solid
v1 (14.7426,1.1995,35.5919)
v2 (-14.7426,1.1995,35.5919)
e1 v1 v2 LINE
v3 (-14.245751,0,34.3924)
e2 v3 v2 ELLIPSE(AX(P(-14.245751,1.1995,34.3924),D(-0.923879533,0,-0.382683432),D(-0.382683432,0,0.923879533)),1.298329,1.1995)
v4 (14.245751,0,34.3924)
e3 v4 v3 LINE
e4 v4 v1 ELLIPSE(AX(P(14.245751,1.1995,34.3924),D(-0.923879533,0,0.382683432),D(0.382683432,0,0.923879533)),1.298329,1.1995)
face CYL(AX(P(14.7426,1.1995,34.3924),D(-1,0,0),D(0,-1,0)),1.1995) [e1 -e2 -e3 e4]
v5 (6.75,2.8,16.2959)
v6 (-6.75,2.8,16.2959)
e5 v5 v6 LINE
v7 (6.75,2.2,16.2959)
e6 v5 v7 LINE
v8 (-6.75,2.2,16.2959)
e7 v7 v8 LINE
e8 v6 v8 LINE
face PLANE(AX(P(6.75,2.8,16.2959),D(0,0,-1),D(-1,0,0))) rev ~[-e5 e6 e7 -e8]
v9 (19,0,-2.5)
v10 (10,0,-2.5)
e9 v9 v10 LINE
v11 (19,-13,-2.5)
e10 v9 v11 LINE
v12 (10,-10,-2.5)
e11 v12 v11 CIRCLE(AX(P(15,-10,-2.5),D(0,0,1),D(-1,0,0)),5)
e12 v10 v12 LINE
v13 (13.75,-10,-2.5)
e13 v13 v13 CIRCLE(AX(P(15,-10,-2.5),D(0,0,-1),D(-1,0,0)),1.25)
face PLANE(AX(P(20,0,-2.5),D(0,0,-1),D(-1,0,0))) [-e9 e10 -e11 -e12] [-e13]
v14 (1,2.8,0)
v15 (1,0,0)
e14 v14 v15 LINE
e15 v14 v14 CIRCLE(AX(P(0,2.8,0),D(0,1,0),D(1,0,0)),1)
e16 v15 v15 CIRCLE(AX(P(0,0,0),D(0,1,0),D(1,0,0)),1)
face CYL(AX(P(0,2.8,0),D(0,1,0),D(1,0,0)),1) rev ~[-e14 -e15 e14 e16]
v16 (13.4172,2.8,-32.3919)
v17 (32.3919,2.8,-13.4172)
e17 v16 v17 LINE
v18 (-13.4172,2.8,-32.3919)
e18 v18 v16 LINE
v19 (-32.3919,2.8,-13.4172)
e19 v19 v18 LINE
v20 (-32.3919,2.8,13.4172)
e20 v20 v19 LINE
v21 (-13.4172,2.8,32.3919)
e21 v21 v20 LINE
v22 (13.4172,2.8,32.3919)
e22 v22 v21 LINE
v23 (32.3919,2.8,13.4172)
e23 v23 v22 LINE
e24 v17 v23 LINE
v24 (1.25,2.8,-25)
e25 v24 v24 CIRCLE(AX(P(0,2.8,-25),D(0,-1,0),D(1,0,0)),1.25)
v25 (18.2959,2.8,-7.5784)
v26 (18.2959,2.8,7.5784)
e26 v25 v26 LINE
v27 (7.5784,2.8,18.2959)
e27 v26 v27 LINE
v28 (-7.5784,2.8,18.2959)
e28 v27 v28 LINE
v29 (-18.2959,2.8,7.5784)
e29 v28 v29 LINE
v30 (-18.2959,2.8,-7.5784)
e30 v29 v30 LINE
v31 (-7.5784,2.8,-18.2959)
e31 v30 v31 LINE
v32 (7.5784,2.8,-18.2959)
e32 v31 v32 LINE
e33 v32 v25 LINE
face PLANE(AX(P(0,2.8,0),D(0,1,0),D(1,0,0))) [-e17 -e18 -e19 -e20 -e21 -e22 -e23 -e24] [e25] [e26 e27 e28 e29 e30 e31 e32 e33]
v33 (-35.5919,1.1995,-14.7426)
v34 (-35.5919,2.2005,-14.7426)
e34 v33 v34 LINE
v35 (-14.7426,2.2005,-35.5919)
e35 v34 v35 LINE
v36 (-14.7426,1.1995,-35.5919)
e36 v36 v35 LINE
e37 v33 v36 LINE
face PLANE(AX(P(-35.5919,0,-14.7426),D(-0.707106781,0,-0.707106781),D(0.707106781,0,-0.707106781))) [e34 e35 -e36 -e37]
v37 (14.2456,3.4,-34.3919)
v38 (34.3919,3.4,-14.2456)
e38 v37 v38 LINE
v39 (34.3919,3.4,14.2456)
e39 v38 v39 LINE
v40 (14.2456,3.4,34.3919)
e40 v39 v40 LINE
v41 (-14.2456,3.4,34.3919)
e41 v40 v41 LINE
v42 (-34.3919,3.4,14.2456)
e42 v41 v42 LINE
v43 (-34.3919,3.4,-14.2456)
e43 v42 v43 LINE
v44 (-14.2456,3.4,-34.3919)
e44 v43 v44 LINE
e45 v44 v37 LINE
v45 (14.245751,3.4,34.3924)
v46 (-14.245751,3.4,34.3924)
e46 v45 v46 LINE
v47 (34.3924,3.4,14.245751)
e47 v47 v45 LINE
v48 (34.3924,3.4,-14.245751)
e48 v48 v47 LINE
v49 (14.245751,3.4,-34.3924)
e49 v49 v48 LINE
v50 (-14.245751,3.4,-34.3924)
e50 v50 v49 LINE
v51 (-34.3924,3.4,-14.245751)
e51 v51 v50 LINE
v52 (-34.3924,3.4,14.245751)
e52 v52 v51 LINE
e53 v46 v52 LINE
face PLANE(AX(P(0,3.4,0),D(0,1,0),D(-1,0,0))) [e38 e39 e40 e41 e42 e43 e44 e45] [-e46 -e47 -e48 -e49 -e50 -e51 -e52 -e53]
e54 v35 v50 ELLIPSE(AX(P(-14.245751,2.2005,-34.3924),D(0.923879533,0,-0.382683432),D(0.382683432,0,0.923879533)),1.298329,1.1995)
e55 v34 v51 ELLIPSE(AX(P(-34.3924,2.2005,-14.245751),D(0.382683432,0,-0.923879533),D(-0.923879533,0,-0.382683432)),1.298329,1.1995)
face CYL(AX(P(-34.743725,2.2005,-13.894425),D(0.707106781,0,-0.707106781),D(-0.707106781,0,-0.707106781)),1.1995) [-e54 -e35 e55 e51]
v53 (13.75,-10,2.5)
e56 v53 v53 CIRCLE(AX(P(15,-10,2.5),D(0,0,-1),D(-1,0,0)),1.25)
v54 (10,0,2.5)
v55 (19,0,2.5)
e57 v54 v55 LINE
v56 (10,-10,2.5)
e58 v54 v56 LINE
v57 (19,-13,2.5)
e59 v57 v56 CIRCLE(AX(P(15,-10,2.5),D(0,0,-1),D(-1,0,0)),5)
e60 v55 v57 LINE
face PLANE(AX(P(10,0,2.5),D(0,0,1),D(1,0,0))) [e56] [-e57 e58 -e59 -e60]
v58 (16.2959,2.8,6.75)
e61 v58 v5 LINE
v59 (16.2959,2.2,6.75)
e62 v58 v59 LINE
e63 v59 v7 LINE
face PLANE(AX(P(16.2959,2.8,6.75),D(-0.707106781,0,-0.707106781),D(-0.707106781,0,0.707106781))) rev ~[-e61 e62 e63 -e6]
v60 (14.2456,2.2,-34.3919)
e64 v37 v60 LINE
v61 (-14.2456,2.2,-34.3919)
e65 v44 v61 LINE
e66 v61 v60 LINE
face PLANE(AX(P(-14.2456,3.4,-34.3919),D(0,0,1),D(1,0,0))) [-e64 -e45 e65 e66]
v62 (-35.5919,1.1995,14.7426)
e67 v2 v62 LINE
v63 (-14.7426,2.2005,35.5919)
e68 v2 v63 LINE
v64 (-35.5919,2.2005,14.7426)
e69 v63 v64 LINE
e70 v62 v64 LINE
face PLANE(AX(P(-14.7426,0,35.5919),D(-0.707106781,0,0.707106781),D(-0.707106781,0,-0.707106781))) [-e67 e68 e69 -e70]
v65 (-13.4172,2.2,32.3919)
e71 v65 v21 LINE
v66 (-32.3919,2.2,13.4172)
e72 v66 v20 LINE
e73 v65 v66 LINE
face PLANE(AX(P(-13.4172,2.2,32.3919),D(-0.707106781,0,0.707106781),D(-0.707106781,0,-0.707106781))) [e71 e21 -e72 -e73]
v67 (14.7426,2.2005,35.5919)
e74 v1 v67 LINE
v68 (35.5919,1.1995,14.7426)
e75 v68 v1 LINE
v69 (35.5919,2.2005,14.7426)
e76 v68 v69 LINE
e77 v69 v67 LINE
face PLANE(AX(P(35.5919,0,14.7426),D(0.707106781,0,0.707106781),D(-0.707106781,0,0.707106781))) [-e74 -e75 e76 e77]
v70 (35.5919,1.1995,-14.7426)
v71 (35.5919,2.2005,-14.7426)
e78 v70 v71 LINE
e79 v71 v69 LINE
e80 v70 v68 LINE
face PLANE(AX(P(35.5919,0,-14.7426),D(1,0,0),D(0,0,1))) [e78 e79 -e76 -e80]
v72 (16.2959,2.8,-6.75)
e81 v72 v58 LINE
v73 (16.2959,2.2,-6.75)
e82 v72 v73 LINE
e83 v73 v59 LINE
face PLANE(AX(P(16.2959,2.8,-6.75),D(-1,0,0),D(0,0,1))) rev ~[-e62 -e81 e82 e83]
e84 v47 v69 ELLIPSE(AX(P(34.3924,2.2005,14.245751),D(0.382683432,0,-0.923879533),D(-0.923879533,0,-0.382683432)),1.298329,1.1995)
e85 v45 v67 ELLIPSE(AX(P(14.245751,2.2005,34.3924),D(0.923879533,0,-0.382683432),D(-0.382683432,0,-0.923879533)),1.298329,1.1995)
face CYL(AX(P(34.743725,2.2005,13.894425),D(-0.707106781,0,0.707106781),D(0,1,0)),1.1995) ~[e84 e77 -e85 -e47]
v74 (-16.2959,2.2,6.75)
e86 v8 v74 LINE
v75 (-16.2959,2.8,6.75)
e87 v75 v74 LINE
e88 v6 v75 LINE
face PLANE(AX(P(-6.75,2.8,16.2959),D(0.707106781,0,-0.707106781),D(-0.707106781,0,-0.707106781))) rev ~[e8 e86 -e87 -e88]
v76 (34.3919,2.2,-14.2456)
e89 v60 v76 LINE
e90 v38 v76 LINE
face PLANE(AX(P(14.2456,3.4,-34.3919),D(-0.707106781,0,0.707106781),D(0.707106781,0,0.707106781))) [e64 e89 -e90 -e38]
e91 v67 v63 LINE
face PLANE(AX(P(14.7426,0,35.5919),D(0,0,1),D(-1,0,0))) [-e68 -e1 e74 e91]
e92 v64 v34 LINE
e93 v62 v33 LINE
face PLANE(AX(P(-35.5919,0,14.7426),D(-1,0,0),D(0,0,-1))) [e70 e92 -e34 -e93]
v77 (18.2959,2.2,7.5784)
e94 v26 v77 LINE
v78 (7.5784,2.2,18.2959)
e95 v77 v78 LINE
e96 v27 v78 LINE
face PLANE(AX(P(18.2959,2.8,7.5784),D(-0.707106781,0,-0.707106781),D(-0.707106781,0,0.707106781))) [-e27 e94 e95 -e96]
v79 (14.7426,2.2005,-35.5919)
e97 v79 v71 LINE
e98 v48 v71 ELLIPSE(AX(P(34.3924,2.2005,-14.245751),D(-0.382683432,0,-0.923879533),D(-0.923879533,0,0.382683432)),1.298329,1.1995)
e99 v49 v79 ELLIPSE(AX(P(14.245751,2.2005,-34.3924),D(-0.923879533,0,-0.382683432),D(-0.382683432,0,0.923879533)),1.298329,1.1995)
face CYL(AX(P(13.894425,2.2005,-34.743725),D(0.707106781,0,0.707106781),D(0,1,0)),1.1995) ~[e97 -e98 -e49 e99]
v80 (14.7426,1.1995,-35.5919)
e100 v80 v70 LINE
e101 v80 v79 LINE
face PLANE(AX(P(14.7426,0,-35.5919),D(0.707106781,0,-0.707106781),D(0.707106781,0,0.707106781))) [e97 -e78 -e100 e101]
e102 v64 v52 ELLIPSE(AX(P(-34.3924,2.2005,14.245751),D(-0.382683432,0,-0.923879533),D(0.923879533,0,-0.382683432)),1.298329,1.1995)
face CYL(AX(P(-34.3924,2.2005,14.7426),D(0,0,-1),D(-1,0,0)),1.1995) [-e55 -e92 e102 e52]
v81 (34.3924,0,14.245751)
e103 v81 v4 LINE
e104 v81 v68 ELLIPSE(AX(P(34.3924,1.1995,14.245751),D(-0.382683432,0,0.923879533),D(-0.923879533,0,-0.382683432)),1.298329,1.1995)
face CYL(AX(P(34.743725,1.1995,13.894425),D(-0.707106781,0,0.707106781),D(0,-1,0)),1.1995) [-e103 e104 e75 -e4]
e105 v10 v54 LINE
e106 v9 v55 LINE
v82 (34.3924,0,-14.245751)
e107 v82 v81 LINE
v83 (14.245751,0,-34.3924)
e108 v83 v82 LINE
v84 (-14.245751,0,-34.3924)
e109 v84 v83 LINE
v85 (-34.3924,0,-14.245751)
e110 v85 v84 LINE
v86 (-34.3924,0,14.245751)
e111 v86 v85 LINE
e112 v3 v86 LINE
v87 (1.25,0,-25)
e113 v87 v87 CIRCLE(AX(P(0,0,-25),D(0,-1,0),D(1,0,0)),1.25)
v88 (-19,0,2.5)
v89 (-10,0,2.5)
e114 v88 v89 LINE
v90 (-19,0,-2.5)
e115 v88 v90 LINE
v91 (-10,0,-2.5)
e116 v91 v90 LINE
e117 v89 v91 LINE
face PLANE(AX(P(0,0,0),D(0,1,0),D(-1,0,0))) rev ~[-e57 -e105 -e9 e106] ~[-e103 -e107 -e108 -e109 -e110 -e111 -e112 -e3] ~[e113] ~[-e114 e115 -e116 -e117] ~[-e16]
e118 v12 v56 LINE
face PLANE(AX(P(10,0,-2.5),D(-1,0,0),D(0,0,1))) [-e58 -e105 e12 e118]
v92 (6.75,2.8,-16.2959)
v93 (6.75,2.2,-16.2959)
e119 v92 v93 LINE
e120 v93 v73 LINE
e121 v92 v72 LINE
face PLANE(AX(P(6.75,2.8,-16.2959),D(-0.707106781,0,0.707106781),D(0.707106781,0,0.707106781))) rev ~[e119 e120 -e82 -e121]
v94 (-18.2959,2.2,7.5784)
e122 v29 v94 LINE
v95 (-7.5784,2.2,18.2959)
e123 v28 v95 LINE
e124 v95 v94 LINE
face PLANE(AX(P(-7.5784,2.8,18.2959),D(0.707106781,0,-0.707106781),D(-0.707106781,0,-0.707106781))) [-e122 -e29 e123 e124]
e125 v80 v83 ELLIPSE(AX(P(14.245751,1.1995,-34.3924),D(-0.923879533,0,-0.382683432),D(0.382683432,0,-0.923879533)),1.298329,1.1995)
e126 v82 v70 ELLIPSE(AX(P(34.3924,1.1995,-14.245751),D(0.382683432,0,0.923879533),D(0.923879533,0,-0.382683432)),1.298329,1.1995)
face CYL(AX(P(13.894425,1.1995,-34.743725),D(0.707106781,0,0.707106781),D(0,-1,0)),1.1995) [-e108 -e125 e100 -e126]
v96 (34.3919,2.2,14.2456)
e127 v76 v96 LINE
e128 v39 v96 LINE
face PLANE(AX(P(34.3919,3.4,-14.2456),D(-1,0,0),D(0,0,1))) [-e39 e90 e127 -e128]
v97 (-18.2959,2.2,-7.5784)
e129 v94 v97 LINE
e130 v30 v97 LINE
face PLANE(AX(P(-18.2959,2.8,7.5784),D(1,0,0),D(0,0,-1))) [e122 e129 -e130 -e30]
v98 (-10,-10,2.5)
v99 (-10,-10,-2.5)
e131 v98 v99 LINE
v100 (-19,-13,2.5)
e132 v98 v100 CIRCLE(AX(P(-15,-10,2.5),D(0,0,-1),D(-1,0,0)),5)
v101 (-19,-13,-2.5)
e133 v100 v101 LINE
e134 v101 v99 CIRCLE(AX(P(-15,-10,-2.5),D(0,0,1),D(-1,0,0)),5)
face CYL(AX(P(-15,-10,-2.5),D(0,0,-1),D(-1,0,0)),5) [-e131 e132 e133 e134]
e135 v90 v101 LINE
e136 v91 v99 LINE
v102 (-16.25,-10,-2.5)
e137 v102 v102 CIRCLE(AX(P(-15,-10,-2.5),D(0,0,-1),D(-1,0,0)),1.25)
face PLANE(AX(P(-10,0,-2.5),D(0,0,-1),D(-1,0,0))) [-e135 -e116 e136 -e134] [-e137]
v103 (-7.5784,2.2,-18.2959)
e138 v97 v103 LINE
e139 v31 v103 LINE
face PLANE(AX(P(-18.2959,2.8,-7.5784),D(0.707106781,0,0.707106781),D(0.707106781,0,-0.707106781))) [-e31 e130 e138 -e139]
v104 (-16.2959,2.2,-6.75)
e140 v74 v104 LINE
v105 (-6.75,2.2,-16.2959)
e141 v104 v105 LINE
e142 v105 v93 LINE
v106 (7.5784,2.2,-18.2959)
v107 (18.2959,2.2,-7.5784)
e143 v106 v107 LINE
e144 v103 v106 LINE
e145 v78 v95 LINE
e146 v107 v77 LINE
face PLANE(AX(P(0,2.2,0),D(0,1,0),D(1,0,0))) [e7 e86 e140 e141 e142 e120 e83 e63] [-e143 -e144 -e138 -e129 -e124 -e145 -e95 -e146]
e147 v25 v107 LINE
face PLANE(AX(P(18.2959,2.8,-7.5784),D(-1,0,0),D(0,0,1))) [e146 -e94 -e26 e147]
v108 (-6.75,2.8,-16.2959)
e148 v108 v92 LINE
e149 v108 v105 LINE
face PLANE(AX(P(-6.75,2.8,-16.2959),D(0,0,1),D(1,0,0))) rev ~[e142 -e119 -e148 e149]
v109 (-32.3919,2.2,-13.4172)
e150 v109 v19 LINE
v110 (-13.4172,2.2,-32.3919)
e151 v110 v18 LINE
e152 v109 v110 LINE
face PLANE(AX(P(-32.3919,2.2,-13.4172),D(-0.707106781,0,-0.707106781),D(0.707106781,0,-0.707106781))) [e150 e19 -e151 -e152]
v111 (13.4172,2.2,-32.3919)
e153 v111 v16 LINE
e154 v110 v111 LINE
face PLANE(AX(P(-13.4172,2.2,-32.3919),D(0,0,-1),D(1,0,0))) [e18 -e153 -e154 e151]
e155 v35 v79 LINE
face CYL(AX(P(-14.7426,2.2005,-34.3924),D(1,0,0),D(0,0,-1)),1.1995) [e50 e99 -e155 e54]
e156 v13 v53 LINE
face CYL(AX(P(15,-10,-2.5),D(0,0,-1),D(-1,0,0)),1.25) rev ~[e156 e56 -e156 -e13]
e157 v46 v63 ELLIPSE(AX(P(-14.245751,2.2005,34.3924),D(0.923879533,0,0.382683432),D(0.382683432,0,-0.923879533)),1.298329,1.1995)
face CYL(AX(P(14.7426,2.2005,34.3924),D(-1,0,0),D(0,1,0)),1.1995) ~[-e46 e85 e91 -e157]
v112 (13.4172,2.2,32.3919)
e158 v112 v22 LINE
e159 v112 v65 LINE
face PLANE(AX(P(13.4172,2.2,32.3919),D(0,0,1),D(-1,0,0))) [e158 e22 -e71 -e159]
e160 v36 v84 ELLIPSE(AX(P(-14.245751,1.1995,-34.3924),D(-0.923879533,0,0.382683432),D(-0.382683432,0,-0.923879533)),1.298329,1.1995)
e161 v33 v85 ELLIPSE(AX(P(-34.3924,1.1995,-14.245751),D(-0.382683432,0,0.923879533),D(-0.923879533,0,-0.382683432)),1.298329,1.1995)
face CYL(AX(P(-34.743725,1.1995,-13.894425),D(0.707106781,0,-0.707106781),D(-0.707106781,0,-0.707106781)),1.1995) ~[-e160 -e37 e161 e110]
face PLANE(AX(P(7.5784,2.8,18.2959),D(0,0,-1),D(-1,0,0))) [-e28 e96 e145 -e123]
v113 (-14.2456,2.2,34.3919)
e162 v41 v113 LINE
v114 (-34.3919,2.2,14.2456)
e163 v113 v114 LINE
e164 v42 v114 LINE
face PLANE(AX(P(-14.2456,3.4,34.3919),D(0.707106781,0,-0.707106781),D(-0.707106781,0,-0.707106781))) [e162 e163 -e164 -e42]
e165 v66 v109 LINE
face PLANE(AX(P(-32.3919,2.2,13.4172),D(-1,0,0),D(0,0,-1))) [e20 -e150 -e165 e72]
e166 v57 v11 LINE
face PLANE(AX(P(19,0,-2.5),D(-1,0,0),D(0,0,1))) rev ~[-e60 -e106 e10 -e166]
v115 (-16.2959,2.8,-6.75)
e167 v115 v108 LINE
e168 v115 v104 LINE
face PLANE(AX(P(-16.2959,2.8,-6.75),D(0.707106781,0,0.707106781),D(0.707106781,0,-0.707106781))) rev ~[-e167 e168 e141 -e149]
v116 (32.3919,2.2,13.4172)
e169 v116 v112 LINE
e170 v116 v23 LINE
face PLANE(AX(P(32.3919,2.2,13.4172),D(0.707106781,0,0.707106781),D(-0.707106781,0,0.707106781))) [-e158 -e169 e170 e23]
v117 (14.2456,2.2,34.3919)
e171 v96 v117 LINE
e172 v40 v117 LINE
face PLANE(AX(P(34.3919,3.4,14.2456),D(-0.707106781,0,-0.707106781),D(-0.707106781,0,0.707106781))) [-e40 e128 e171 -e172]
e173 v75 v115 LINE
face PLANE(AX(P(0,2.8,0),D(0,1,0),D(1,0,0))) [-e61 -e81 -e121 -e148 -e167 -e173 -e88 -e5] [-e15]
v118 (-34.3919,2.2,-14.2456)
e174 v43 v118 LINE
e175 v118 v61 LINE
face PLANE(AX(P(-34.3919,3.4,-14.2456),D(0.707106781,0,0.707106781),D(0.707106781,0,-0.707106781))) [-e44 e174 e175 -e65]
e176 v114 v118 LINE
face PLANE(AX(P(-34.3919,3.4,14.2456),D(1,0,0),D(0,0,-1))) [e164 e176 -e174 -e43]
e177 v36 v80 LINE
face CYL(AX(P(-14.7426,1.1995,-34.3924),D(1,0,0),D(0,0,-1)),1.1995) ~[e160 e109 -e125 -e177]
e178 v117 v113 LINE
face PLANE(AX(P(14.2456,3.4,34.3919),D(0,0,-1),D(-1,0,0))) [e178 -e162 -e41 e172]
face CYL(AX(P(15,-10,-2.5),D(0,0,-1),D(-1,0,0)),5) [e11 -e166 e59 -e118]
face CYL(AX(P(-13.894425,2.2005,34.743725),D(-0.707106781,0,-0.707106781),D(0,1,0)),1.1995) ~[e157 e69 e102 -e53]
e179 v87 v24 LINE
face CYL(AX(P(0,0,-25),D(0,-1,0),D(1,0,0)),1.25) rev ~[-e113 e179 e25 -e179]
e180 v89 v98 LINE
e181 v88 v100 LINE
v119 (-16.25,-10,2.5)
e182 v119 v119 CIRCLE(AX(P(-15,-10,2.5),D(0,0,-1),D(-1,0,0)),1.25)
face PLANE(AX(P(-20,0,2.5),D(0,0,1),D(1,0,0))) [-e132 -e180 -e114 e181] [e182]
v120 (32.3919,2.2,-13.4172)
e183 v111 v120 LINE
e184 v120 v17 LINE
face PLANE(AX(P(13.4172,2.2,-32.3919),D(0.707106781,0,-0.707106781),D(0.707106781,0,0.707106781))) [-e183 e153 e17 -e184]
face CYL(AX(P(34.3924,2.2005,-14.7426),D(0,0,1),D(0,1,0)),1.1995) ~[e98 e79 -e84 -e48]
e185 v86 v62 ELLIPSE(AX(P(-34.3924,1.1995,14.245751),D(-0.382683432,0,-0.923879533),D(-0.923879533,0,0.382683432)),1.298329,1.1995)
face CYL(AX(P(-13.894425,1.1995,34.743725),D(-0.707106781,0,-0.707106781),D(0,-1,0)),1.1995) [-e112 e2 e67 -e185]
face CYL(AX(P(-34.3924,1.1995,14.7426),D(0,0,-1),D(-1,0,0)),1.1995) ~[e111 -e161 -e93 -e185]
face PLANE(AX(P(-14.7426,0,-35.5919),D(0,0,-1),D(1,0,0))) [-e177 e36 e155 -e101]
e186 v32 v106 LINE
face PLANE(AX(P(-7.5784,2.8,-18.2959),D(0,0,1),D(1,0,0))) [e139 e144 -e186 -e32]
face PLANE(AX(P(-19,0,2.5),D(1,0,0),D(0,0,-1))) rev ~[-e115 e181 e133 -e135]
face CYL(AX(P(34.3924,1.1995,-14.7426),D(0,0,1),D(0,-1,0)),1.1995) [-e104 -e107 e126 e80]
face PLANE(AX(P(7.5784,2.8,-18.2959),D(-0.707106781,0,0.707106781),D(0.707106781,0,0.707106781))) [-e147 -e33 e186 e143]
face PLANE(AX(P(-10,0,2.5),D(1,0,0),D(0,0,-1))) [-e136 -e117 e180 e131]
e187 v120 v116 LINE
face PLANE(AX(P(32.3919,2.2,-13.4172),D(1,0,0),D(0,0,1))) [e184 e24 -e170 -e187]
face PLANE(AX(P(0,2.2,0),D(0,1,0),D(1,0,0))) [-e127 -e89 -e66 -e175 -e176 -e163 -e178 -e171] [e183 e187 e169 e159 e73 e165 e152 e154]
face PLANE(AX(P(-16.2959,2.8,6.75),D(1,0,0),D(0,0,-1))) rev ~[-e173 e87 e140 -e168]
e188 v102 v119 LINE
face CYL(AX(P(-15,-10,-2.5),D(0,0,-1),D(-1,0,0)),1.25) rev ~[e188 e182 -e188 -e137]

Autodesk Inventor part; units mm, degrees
ref_plane "YZ Plane" through (0, 0, 0) normal (1, 0, 0) x (0, 1, 0)
ref_plane "XZ Plane" through (0, 0, 0) normal (0, 1, 0) x (-1, 0, 0)
ref_plane "XY Plane" through (0, 0, 0) normal (0, 0, 1) x (1, 0, 0)
sketch "스케치3" plane through (0, 0, 0) normal (0, 1, 0) x (-1, 0, 0)
  line L0 (35.5919, -14.7426) -> (14.7426, -35.5919)
  line L1 (14.7426, -35.5919) -> (-14.7426, -35.5919)
  line L2 (-14.7426, -35.5919) -> (-35.5919, -14.7426)
  line L3 (-35.5919, -14.7426) -> (-35.5919, 14.7426)
  line L4 (-35.5919, 14.7426) -> (-14.7426, 35.5919)
  line L5 (-14.7426, 35.5919) -> (14.7426, 35.5919)
  line L6 (14.7426, 35.5919) -> (35.5919, 14.7426)
  line L7 (35.5919, 14.7426) -> (35.5919, -14.7426)
  line L8 (32.5919, -13.5) -> (13.5, -32.5919)
  line L9 (13.5, -32.5919) -> (-13.5, -32.5919)
  line L10 (-13.5, -32.5919) -> (-32.5919, -13.5)
  line L11 (-32.5919, -13.5) -> (-32.5919, 13.5)
  line L12 (-32.5919, 13.5) -> (-13.5, 32.5919)
  line L13 (-13.5, 32.5919) -> (13.5, 32.5919)
  line L14 (13.5, 32.5919) -> (32.5919, 13.5)
  line L15 (32.5919, 13.5) -> (32.5919, -13.5)
  point P0 (0, 0)
  point P1 (0, 0)
  point P2 (0, 0)
  point P3 (0, 0)
  dimension "d43" = 27
  dimension "d44" = 3
extrude "돌출2" add sketch "스케치3" along normal blind 3.4 contours L0 L1 L2 L3 L4 L5 L6 L7 | L8 L9 L10 L11 L12 L13 L14 L15
sketch "스케치4" plane through (0, 3.4, 0) normal (0, 1, 0) x (1, 0, 0)
  line L0 (13.5, -32.5919) -> (-13.5, -32.5919)
  line L1 (-13.5, -32.5919) -> (-32.5919, -13.5)
  line L2 (-32.5919, -13.5) -> (-32.5919, 13.5)
  line L3 (-32.5919, 13.5) -> (-13.5, 32.5919)
  line L4 (-13.5, 32.5919) -> (13.5, 32.5919)
  line L5 (13.5, 32.5919) -> (32.5919, 13.5)
  line L6 (32.5919, 13.5) -> (32.5919, -13.5)
  line L7 (32.5919, -13.5) -> (13.5, -32.5919)
  line L8 (-14.2456, 34.3919) -> (14.2456, 34.3919)
  line L9 (14.2456, 34.3919) -> (34.3919, 14.2456)
  line L10 (34.3919, 14.2456) -> (34.3919, -14.2456)
  line L11 (34.3919, -14.2456) -> (14.2456, -34.3919)
  line L12 (14.2456, -34.3919) -> (-14.2456, -34.3919)
  line L13 (-14.2456, -34.3919) -> (-34.3919, -14.2456)
  line L14 (-34.3919, -14.2456) -> (-34.3919, 14.2456)
  line L15 (-34.3919, 14.2456) -> (-14.2456, 34.3919)
  line L16 (-13.4172, 32.3919) -> (13.4172, 32.3919)
  line L17 (13.4172, 32.3919) -> (32.3919, 13.4172)
  line L18 (32.3919, 13.4172) -> (32.3919, -13.4172)
  line L19 (32.3919, -13.4172) -> (13.4172, -32.3919)
  line L20 (13.4172, -32.3919) -> (-13.4172, -32.3919)
  line L21 (-13.4172, -32.3919) -> (-32.3919, -13.4172)
  line L22 (-32.3919, -13.4172) -> (-32.3919, 13.4172)
  line L23 (-32.3919, 13.4172) -> (-13.4172, 32.3919)
  point P0 (0, 0)
  point P1 (0, 0)
  point P2 (0, 0)
  point P3 (0, 0)
  dimension "d7" = 27
  dimension "d42" = 1.8
  dimension "d45" = 0.2
extrude "돌출3" cut sketch "스케치4" against normal blind 1.2 contours L0 L1 L2 L3 L4 L5 L6 L7 | L8 L9 L10 L11 L12 L13 L14 L15 | L16 L17 L18 L19 L20 L21 L22 L23
sketch "스케치5" plane through (0, 0, 0) normal (0, -1, 0) x (1, 0, 0)
  line L0 (10, 2.5) -> (20, 2.5)
  line L1 (20, 2.5) -> (20, -2.5)
  line L2 (20, -2.5) -> (10, -2.5)
  line L3 (10, -2.5) -> (10, 2.5)
  line L4 (10, 2.5) -> (20, -2.5) construction
  line L5 (20, 2.5) -> (10, -2.5) construction
  line L6 (-20, 2.5) -> (-10, 2.5)
  line L7 (-10, 2.5) -> (-10, -2.5)
  line L8 (-10, -2.5) -> (-20, -2.5)
  line L9 (-20, -2.5) -> (-20, 2.5)
  line L10 (-20, 2.5) -> (-10, -2.5) construction
  line L11 (-10, 2.5) -> (-20, -2.5) construction
  point P0 (0, 0)
  point P1 (15, 0)
  point P2 (-15, 0)
  dimension "d11" = 10
  dimension "d12" = 5
  dimension "d13" = 10
  dimension "d16" = 30
extrude "돌출4" add sketch "스케치5" along normal blind 10
sketch "스케치6" plane through (-10, 0, -2.5) normal (0, 0, -1) x (-1, 0, 0)
  circle A0 centre (5, -10) radius 5
  circle A1 centre (-25, -10) radius 5
  line L0 (-20, -10) -> (-30, -10) projected
  line L1 (10, -10) -> (0, -10) projected
  point P0 (-10, 0)
  dimension "d23" = 10
  dimension "d24" = 10
extrude "돌출5" add sketch "스케치6" against normal blind 5
sketch "스케치7" plane through (-10, 0, -2.5) normal (0, 0, -1) x (-1, 0, 0)
  circle A0 centre (5, -10) radius 1.25
  line L0 (10, 0) -> (10, -10) projected
  line L1 (0, 0) -> (10, 0) projected
  line L2 (4.7788, 0) -> (0, 0)
  circle A1 centre (-25, -10) radius 1.25
  point P0 (-10, 0)
  dimension "d27" = 2.5
  dimension "d28" = 5
  dimension "d31" = 30
extrude "돌출6" cut sketch "스케치7" against normal blind 5
sketch "스케치8" plane through (0, 0, 0) normal (0, -1, 0) x (1, 0, 0)
  circle A0 centre (0, -25) radius 1.25
  line L0 (-10, 2.5) -> (-10, -2.5) projected
  point P0 (0, 0)
  point P1 (-10, 0)
  dimension "d38" = 2.5
  dimension "d39" = 25
sketch "스케치9" plane through (0, 2.2, 0) normal (0, 1, 0) x (1, 0, 0)
  line L0 (-13.4172, 32.3919) -> (13.4172, 32.3919)
  line L1 (13.4172, 32.3919) -> (32.3919, 13.4172)
  line L2 (32.3919, 13.4172) -> (32.3919, -13.4172)
  line L3 (32.3919, -13.4172) -> (13.4172, -32.3919)
  line L4 (13.4172, -32.3919) -> (-13.4172, -32.3919)
  line L5 (-13.4172, -32.3919) -> (-32.3919, -13.4172)
  line L6 (-32.3919, -13.4172) -> (-32.3919, 13.4172)
  line L7 (-32.3919, 13.4172) -> (-13.4172, 32.3919)
  line L8 (-14.2456, 34.3919) -> (14.2456, 34.3919) projected
  line L9 (-12.1745, 29.3919) -> (12.1745, 29.3919)
  line L10 (12.1745, 29.3919) -> (29.3919, 12.1745)
  line L11 (29.3919, 12.1745) -> (29.3919, -12.1745)
  line L12 (29.3919, -12.1745) -> (12.1745, -29.3919)
  line L13 (12.1745, -29.3919) -> (-12.1745, -29.3919)
  line L14 (-12.1745, -29.3919) -> (-29.3919, -12.1745)
  line L15 (-29.3919, -12.1745) -> (-29.3919, 12.1745)
  line L16 (-29.3919, 12.1745) -> (-12.1745, 29.3919)
  point P0 (0, 0)
  point P1 (0, 0)
  point P2 (0, 0)
  dimension "d46" = 2
  dimension "d47" = 3
extrude "돌출8" add sketch "스케치9" along normal blind 0.6 contours L0 L1 L2 L3 L4 L5 L6 L7 | L9 L10 L11 L12 L13 L14 L15 L16
fillet "모깎기1" radius 1.2 16 edges at (-35.5919, 3.4, 0) (-25.1673, 3.4, 25.1673) (0, 3.4, 35.5919) (25.1673, 3.4, 25.1673) (35.5919, 3.4, 0) (25.1673, 3.4, -25.1673) (0, 3.4, -35.5919) (-25.1673, 3.4, -25.1673) (25.1673, 0, 25.1673) (0, 0, 35.5919) (-25.1673, 0, 25.1673) (-35.5919, 0, 0) (-25.1673, 0, -25.1673) (0, 0, -35.5919) (25.1673, 0, -25.1673) (35.5919, 0, 0)
sketch "스케치10" plane through (0, 0, 0) normal (0, -1, 0) x (1, 0, 0)
  line L0 (-20, 2.5) -> (-10, 2.5) projected
  line L1 (-10, -2.5) -> (-20, -2.5) projected
  line L2 (-20, 2.5) -> (-19, 2.5)
  line L3 (-19, 2.5) -> (-19, -2.5)
  line L4 (-19, -2.5) -> (-20, -2.5)
  line L5 (-20, -2.5) -> (-20, 2.5)
  line L6 (20, -2.5) -> (10, -2.5) projected
  line L7 (10, 2.5) -> (20, 2.5) projected
  line L8 (20, -2.5) -> (19, -2.5)
  line L9 (19, -2.5) -> (19, 2.5)
  line L10 (19, 2.5) -> (20, 2.5)
  line L11 (20, 2.5) -> (20, -2.5)
  point P0 (0, 0)
  dimension "d54" = 1
  dimension "d55" = 1
extrude "돌출9" cut sketch "스케치10" along normal blind 15
extrude "돌출10" cut sketch "스케치8" against normal blind 5
sketch "스케치11" plane through (0, 2.8, 0) normal (0, 1, 0) x (1, 0, 0)
  line L0 (-6.75, 16.2959) -> (6.75, 16.2959)
  line L1 (6.75, 16.2959) -> (16.2959, 6.75)
  line L2 (16.2959, 6.75) -> (16.2959, -6.75)
  line L3 (16.2959, -6.75) -> (6.75, -16.2959)
  line L4 (6.75, -16.2959) -> (-6.75, -16.2959)
  line L5 (-6.75, -16.2959) -> (-16.2959, -6.75)
  line L6 (-16.2959, -6.75) -> (-16.2959, 6.75)
  line L7 (-16.2959, 6.75) -> (-6.75, 16.2959)
  line L8 (-7.5784, 18.2959) -> (7.5784, 18.2959)
  line L9 (7.5784, 18.2959) -> (18.2959, 7.5784)
  line L10 (18.2959, 7.5784) -> (18.2959, -7.5784)
  line L11 (18.2959, -7.5784) -> (7.5784, -18.2959)
  line L12 (7.5784, -18.2959) -> (-7.5784, -18.2959)
  line L13 (-7.5784, -18.2959) -> (-18.2959, -7.5784)
  line L14 (-18.2959, -7.5784) -> (-18.2959, 7.5784)
  line L15 (-18.2959, 7.5784) -> (-7.5784, 18.2959)
  point P0 (0, 0)
  point P1 (0, 0)
  point P2 (0, 0)
  point P3 (0, 18.2959)
  dimension "d60" = 13.5
  dimension "d61" = 2
extrude "돌출11" cut sketch "스케치11" against normal blind 0.6
sketch "스케치12" plane through (0, 2.8, 0) normal (0, 1, 0) x (1, 0, 0)
  circle A0 centre (0, 0) radius 1
  dimension "d64" = 2
extrude "돌출12" cut sketch "스케치12" against normal up to surface (2.8 mm away)
equation "\"d55\" = d54"
properties part number "OV-PAM_top_2"
